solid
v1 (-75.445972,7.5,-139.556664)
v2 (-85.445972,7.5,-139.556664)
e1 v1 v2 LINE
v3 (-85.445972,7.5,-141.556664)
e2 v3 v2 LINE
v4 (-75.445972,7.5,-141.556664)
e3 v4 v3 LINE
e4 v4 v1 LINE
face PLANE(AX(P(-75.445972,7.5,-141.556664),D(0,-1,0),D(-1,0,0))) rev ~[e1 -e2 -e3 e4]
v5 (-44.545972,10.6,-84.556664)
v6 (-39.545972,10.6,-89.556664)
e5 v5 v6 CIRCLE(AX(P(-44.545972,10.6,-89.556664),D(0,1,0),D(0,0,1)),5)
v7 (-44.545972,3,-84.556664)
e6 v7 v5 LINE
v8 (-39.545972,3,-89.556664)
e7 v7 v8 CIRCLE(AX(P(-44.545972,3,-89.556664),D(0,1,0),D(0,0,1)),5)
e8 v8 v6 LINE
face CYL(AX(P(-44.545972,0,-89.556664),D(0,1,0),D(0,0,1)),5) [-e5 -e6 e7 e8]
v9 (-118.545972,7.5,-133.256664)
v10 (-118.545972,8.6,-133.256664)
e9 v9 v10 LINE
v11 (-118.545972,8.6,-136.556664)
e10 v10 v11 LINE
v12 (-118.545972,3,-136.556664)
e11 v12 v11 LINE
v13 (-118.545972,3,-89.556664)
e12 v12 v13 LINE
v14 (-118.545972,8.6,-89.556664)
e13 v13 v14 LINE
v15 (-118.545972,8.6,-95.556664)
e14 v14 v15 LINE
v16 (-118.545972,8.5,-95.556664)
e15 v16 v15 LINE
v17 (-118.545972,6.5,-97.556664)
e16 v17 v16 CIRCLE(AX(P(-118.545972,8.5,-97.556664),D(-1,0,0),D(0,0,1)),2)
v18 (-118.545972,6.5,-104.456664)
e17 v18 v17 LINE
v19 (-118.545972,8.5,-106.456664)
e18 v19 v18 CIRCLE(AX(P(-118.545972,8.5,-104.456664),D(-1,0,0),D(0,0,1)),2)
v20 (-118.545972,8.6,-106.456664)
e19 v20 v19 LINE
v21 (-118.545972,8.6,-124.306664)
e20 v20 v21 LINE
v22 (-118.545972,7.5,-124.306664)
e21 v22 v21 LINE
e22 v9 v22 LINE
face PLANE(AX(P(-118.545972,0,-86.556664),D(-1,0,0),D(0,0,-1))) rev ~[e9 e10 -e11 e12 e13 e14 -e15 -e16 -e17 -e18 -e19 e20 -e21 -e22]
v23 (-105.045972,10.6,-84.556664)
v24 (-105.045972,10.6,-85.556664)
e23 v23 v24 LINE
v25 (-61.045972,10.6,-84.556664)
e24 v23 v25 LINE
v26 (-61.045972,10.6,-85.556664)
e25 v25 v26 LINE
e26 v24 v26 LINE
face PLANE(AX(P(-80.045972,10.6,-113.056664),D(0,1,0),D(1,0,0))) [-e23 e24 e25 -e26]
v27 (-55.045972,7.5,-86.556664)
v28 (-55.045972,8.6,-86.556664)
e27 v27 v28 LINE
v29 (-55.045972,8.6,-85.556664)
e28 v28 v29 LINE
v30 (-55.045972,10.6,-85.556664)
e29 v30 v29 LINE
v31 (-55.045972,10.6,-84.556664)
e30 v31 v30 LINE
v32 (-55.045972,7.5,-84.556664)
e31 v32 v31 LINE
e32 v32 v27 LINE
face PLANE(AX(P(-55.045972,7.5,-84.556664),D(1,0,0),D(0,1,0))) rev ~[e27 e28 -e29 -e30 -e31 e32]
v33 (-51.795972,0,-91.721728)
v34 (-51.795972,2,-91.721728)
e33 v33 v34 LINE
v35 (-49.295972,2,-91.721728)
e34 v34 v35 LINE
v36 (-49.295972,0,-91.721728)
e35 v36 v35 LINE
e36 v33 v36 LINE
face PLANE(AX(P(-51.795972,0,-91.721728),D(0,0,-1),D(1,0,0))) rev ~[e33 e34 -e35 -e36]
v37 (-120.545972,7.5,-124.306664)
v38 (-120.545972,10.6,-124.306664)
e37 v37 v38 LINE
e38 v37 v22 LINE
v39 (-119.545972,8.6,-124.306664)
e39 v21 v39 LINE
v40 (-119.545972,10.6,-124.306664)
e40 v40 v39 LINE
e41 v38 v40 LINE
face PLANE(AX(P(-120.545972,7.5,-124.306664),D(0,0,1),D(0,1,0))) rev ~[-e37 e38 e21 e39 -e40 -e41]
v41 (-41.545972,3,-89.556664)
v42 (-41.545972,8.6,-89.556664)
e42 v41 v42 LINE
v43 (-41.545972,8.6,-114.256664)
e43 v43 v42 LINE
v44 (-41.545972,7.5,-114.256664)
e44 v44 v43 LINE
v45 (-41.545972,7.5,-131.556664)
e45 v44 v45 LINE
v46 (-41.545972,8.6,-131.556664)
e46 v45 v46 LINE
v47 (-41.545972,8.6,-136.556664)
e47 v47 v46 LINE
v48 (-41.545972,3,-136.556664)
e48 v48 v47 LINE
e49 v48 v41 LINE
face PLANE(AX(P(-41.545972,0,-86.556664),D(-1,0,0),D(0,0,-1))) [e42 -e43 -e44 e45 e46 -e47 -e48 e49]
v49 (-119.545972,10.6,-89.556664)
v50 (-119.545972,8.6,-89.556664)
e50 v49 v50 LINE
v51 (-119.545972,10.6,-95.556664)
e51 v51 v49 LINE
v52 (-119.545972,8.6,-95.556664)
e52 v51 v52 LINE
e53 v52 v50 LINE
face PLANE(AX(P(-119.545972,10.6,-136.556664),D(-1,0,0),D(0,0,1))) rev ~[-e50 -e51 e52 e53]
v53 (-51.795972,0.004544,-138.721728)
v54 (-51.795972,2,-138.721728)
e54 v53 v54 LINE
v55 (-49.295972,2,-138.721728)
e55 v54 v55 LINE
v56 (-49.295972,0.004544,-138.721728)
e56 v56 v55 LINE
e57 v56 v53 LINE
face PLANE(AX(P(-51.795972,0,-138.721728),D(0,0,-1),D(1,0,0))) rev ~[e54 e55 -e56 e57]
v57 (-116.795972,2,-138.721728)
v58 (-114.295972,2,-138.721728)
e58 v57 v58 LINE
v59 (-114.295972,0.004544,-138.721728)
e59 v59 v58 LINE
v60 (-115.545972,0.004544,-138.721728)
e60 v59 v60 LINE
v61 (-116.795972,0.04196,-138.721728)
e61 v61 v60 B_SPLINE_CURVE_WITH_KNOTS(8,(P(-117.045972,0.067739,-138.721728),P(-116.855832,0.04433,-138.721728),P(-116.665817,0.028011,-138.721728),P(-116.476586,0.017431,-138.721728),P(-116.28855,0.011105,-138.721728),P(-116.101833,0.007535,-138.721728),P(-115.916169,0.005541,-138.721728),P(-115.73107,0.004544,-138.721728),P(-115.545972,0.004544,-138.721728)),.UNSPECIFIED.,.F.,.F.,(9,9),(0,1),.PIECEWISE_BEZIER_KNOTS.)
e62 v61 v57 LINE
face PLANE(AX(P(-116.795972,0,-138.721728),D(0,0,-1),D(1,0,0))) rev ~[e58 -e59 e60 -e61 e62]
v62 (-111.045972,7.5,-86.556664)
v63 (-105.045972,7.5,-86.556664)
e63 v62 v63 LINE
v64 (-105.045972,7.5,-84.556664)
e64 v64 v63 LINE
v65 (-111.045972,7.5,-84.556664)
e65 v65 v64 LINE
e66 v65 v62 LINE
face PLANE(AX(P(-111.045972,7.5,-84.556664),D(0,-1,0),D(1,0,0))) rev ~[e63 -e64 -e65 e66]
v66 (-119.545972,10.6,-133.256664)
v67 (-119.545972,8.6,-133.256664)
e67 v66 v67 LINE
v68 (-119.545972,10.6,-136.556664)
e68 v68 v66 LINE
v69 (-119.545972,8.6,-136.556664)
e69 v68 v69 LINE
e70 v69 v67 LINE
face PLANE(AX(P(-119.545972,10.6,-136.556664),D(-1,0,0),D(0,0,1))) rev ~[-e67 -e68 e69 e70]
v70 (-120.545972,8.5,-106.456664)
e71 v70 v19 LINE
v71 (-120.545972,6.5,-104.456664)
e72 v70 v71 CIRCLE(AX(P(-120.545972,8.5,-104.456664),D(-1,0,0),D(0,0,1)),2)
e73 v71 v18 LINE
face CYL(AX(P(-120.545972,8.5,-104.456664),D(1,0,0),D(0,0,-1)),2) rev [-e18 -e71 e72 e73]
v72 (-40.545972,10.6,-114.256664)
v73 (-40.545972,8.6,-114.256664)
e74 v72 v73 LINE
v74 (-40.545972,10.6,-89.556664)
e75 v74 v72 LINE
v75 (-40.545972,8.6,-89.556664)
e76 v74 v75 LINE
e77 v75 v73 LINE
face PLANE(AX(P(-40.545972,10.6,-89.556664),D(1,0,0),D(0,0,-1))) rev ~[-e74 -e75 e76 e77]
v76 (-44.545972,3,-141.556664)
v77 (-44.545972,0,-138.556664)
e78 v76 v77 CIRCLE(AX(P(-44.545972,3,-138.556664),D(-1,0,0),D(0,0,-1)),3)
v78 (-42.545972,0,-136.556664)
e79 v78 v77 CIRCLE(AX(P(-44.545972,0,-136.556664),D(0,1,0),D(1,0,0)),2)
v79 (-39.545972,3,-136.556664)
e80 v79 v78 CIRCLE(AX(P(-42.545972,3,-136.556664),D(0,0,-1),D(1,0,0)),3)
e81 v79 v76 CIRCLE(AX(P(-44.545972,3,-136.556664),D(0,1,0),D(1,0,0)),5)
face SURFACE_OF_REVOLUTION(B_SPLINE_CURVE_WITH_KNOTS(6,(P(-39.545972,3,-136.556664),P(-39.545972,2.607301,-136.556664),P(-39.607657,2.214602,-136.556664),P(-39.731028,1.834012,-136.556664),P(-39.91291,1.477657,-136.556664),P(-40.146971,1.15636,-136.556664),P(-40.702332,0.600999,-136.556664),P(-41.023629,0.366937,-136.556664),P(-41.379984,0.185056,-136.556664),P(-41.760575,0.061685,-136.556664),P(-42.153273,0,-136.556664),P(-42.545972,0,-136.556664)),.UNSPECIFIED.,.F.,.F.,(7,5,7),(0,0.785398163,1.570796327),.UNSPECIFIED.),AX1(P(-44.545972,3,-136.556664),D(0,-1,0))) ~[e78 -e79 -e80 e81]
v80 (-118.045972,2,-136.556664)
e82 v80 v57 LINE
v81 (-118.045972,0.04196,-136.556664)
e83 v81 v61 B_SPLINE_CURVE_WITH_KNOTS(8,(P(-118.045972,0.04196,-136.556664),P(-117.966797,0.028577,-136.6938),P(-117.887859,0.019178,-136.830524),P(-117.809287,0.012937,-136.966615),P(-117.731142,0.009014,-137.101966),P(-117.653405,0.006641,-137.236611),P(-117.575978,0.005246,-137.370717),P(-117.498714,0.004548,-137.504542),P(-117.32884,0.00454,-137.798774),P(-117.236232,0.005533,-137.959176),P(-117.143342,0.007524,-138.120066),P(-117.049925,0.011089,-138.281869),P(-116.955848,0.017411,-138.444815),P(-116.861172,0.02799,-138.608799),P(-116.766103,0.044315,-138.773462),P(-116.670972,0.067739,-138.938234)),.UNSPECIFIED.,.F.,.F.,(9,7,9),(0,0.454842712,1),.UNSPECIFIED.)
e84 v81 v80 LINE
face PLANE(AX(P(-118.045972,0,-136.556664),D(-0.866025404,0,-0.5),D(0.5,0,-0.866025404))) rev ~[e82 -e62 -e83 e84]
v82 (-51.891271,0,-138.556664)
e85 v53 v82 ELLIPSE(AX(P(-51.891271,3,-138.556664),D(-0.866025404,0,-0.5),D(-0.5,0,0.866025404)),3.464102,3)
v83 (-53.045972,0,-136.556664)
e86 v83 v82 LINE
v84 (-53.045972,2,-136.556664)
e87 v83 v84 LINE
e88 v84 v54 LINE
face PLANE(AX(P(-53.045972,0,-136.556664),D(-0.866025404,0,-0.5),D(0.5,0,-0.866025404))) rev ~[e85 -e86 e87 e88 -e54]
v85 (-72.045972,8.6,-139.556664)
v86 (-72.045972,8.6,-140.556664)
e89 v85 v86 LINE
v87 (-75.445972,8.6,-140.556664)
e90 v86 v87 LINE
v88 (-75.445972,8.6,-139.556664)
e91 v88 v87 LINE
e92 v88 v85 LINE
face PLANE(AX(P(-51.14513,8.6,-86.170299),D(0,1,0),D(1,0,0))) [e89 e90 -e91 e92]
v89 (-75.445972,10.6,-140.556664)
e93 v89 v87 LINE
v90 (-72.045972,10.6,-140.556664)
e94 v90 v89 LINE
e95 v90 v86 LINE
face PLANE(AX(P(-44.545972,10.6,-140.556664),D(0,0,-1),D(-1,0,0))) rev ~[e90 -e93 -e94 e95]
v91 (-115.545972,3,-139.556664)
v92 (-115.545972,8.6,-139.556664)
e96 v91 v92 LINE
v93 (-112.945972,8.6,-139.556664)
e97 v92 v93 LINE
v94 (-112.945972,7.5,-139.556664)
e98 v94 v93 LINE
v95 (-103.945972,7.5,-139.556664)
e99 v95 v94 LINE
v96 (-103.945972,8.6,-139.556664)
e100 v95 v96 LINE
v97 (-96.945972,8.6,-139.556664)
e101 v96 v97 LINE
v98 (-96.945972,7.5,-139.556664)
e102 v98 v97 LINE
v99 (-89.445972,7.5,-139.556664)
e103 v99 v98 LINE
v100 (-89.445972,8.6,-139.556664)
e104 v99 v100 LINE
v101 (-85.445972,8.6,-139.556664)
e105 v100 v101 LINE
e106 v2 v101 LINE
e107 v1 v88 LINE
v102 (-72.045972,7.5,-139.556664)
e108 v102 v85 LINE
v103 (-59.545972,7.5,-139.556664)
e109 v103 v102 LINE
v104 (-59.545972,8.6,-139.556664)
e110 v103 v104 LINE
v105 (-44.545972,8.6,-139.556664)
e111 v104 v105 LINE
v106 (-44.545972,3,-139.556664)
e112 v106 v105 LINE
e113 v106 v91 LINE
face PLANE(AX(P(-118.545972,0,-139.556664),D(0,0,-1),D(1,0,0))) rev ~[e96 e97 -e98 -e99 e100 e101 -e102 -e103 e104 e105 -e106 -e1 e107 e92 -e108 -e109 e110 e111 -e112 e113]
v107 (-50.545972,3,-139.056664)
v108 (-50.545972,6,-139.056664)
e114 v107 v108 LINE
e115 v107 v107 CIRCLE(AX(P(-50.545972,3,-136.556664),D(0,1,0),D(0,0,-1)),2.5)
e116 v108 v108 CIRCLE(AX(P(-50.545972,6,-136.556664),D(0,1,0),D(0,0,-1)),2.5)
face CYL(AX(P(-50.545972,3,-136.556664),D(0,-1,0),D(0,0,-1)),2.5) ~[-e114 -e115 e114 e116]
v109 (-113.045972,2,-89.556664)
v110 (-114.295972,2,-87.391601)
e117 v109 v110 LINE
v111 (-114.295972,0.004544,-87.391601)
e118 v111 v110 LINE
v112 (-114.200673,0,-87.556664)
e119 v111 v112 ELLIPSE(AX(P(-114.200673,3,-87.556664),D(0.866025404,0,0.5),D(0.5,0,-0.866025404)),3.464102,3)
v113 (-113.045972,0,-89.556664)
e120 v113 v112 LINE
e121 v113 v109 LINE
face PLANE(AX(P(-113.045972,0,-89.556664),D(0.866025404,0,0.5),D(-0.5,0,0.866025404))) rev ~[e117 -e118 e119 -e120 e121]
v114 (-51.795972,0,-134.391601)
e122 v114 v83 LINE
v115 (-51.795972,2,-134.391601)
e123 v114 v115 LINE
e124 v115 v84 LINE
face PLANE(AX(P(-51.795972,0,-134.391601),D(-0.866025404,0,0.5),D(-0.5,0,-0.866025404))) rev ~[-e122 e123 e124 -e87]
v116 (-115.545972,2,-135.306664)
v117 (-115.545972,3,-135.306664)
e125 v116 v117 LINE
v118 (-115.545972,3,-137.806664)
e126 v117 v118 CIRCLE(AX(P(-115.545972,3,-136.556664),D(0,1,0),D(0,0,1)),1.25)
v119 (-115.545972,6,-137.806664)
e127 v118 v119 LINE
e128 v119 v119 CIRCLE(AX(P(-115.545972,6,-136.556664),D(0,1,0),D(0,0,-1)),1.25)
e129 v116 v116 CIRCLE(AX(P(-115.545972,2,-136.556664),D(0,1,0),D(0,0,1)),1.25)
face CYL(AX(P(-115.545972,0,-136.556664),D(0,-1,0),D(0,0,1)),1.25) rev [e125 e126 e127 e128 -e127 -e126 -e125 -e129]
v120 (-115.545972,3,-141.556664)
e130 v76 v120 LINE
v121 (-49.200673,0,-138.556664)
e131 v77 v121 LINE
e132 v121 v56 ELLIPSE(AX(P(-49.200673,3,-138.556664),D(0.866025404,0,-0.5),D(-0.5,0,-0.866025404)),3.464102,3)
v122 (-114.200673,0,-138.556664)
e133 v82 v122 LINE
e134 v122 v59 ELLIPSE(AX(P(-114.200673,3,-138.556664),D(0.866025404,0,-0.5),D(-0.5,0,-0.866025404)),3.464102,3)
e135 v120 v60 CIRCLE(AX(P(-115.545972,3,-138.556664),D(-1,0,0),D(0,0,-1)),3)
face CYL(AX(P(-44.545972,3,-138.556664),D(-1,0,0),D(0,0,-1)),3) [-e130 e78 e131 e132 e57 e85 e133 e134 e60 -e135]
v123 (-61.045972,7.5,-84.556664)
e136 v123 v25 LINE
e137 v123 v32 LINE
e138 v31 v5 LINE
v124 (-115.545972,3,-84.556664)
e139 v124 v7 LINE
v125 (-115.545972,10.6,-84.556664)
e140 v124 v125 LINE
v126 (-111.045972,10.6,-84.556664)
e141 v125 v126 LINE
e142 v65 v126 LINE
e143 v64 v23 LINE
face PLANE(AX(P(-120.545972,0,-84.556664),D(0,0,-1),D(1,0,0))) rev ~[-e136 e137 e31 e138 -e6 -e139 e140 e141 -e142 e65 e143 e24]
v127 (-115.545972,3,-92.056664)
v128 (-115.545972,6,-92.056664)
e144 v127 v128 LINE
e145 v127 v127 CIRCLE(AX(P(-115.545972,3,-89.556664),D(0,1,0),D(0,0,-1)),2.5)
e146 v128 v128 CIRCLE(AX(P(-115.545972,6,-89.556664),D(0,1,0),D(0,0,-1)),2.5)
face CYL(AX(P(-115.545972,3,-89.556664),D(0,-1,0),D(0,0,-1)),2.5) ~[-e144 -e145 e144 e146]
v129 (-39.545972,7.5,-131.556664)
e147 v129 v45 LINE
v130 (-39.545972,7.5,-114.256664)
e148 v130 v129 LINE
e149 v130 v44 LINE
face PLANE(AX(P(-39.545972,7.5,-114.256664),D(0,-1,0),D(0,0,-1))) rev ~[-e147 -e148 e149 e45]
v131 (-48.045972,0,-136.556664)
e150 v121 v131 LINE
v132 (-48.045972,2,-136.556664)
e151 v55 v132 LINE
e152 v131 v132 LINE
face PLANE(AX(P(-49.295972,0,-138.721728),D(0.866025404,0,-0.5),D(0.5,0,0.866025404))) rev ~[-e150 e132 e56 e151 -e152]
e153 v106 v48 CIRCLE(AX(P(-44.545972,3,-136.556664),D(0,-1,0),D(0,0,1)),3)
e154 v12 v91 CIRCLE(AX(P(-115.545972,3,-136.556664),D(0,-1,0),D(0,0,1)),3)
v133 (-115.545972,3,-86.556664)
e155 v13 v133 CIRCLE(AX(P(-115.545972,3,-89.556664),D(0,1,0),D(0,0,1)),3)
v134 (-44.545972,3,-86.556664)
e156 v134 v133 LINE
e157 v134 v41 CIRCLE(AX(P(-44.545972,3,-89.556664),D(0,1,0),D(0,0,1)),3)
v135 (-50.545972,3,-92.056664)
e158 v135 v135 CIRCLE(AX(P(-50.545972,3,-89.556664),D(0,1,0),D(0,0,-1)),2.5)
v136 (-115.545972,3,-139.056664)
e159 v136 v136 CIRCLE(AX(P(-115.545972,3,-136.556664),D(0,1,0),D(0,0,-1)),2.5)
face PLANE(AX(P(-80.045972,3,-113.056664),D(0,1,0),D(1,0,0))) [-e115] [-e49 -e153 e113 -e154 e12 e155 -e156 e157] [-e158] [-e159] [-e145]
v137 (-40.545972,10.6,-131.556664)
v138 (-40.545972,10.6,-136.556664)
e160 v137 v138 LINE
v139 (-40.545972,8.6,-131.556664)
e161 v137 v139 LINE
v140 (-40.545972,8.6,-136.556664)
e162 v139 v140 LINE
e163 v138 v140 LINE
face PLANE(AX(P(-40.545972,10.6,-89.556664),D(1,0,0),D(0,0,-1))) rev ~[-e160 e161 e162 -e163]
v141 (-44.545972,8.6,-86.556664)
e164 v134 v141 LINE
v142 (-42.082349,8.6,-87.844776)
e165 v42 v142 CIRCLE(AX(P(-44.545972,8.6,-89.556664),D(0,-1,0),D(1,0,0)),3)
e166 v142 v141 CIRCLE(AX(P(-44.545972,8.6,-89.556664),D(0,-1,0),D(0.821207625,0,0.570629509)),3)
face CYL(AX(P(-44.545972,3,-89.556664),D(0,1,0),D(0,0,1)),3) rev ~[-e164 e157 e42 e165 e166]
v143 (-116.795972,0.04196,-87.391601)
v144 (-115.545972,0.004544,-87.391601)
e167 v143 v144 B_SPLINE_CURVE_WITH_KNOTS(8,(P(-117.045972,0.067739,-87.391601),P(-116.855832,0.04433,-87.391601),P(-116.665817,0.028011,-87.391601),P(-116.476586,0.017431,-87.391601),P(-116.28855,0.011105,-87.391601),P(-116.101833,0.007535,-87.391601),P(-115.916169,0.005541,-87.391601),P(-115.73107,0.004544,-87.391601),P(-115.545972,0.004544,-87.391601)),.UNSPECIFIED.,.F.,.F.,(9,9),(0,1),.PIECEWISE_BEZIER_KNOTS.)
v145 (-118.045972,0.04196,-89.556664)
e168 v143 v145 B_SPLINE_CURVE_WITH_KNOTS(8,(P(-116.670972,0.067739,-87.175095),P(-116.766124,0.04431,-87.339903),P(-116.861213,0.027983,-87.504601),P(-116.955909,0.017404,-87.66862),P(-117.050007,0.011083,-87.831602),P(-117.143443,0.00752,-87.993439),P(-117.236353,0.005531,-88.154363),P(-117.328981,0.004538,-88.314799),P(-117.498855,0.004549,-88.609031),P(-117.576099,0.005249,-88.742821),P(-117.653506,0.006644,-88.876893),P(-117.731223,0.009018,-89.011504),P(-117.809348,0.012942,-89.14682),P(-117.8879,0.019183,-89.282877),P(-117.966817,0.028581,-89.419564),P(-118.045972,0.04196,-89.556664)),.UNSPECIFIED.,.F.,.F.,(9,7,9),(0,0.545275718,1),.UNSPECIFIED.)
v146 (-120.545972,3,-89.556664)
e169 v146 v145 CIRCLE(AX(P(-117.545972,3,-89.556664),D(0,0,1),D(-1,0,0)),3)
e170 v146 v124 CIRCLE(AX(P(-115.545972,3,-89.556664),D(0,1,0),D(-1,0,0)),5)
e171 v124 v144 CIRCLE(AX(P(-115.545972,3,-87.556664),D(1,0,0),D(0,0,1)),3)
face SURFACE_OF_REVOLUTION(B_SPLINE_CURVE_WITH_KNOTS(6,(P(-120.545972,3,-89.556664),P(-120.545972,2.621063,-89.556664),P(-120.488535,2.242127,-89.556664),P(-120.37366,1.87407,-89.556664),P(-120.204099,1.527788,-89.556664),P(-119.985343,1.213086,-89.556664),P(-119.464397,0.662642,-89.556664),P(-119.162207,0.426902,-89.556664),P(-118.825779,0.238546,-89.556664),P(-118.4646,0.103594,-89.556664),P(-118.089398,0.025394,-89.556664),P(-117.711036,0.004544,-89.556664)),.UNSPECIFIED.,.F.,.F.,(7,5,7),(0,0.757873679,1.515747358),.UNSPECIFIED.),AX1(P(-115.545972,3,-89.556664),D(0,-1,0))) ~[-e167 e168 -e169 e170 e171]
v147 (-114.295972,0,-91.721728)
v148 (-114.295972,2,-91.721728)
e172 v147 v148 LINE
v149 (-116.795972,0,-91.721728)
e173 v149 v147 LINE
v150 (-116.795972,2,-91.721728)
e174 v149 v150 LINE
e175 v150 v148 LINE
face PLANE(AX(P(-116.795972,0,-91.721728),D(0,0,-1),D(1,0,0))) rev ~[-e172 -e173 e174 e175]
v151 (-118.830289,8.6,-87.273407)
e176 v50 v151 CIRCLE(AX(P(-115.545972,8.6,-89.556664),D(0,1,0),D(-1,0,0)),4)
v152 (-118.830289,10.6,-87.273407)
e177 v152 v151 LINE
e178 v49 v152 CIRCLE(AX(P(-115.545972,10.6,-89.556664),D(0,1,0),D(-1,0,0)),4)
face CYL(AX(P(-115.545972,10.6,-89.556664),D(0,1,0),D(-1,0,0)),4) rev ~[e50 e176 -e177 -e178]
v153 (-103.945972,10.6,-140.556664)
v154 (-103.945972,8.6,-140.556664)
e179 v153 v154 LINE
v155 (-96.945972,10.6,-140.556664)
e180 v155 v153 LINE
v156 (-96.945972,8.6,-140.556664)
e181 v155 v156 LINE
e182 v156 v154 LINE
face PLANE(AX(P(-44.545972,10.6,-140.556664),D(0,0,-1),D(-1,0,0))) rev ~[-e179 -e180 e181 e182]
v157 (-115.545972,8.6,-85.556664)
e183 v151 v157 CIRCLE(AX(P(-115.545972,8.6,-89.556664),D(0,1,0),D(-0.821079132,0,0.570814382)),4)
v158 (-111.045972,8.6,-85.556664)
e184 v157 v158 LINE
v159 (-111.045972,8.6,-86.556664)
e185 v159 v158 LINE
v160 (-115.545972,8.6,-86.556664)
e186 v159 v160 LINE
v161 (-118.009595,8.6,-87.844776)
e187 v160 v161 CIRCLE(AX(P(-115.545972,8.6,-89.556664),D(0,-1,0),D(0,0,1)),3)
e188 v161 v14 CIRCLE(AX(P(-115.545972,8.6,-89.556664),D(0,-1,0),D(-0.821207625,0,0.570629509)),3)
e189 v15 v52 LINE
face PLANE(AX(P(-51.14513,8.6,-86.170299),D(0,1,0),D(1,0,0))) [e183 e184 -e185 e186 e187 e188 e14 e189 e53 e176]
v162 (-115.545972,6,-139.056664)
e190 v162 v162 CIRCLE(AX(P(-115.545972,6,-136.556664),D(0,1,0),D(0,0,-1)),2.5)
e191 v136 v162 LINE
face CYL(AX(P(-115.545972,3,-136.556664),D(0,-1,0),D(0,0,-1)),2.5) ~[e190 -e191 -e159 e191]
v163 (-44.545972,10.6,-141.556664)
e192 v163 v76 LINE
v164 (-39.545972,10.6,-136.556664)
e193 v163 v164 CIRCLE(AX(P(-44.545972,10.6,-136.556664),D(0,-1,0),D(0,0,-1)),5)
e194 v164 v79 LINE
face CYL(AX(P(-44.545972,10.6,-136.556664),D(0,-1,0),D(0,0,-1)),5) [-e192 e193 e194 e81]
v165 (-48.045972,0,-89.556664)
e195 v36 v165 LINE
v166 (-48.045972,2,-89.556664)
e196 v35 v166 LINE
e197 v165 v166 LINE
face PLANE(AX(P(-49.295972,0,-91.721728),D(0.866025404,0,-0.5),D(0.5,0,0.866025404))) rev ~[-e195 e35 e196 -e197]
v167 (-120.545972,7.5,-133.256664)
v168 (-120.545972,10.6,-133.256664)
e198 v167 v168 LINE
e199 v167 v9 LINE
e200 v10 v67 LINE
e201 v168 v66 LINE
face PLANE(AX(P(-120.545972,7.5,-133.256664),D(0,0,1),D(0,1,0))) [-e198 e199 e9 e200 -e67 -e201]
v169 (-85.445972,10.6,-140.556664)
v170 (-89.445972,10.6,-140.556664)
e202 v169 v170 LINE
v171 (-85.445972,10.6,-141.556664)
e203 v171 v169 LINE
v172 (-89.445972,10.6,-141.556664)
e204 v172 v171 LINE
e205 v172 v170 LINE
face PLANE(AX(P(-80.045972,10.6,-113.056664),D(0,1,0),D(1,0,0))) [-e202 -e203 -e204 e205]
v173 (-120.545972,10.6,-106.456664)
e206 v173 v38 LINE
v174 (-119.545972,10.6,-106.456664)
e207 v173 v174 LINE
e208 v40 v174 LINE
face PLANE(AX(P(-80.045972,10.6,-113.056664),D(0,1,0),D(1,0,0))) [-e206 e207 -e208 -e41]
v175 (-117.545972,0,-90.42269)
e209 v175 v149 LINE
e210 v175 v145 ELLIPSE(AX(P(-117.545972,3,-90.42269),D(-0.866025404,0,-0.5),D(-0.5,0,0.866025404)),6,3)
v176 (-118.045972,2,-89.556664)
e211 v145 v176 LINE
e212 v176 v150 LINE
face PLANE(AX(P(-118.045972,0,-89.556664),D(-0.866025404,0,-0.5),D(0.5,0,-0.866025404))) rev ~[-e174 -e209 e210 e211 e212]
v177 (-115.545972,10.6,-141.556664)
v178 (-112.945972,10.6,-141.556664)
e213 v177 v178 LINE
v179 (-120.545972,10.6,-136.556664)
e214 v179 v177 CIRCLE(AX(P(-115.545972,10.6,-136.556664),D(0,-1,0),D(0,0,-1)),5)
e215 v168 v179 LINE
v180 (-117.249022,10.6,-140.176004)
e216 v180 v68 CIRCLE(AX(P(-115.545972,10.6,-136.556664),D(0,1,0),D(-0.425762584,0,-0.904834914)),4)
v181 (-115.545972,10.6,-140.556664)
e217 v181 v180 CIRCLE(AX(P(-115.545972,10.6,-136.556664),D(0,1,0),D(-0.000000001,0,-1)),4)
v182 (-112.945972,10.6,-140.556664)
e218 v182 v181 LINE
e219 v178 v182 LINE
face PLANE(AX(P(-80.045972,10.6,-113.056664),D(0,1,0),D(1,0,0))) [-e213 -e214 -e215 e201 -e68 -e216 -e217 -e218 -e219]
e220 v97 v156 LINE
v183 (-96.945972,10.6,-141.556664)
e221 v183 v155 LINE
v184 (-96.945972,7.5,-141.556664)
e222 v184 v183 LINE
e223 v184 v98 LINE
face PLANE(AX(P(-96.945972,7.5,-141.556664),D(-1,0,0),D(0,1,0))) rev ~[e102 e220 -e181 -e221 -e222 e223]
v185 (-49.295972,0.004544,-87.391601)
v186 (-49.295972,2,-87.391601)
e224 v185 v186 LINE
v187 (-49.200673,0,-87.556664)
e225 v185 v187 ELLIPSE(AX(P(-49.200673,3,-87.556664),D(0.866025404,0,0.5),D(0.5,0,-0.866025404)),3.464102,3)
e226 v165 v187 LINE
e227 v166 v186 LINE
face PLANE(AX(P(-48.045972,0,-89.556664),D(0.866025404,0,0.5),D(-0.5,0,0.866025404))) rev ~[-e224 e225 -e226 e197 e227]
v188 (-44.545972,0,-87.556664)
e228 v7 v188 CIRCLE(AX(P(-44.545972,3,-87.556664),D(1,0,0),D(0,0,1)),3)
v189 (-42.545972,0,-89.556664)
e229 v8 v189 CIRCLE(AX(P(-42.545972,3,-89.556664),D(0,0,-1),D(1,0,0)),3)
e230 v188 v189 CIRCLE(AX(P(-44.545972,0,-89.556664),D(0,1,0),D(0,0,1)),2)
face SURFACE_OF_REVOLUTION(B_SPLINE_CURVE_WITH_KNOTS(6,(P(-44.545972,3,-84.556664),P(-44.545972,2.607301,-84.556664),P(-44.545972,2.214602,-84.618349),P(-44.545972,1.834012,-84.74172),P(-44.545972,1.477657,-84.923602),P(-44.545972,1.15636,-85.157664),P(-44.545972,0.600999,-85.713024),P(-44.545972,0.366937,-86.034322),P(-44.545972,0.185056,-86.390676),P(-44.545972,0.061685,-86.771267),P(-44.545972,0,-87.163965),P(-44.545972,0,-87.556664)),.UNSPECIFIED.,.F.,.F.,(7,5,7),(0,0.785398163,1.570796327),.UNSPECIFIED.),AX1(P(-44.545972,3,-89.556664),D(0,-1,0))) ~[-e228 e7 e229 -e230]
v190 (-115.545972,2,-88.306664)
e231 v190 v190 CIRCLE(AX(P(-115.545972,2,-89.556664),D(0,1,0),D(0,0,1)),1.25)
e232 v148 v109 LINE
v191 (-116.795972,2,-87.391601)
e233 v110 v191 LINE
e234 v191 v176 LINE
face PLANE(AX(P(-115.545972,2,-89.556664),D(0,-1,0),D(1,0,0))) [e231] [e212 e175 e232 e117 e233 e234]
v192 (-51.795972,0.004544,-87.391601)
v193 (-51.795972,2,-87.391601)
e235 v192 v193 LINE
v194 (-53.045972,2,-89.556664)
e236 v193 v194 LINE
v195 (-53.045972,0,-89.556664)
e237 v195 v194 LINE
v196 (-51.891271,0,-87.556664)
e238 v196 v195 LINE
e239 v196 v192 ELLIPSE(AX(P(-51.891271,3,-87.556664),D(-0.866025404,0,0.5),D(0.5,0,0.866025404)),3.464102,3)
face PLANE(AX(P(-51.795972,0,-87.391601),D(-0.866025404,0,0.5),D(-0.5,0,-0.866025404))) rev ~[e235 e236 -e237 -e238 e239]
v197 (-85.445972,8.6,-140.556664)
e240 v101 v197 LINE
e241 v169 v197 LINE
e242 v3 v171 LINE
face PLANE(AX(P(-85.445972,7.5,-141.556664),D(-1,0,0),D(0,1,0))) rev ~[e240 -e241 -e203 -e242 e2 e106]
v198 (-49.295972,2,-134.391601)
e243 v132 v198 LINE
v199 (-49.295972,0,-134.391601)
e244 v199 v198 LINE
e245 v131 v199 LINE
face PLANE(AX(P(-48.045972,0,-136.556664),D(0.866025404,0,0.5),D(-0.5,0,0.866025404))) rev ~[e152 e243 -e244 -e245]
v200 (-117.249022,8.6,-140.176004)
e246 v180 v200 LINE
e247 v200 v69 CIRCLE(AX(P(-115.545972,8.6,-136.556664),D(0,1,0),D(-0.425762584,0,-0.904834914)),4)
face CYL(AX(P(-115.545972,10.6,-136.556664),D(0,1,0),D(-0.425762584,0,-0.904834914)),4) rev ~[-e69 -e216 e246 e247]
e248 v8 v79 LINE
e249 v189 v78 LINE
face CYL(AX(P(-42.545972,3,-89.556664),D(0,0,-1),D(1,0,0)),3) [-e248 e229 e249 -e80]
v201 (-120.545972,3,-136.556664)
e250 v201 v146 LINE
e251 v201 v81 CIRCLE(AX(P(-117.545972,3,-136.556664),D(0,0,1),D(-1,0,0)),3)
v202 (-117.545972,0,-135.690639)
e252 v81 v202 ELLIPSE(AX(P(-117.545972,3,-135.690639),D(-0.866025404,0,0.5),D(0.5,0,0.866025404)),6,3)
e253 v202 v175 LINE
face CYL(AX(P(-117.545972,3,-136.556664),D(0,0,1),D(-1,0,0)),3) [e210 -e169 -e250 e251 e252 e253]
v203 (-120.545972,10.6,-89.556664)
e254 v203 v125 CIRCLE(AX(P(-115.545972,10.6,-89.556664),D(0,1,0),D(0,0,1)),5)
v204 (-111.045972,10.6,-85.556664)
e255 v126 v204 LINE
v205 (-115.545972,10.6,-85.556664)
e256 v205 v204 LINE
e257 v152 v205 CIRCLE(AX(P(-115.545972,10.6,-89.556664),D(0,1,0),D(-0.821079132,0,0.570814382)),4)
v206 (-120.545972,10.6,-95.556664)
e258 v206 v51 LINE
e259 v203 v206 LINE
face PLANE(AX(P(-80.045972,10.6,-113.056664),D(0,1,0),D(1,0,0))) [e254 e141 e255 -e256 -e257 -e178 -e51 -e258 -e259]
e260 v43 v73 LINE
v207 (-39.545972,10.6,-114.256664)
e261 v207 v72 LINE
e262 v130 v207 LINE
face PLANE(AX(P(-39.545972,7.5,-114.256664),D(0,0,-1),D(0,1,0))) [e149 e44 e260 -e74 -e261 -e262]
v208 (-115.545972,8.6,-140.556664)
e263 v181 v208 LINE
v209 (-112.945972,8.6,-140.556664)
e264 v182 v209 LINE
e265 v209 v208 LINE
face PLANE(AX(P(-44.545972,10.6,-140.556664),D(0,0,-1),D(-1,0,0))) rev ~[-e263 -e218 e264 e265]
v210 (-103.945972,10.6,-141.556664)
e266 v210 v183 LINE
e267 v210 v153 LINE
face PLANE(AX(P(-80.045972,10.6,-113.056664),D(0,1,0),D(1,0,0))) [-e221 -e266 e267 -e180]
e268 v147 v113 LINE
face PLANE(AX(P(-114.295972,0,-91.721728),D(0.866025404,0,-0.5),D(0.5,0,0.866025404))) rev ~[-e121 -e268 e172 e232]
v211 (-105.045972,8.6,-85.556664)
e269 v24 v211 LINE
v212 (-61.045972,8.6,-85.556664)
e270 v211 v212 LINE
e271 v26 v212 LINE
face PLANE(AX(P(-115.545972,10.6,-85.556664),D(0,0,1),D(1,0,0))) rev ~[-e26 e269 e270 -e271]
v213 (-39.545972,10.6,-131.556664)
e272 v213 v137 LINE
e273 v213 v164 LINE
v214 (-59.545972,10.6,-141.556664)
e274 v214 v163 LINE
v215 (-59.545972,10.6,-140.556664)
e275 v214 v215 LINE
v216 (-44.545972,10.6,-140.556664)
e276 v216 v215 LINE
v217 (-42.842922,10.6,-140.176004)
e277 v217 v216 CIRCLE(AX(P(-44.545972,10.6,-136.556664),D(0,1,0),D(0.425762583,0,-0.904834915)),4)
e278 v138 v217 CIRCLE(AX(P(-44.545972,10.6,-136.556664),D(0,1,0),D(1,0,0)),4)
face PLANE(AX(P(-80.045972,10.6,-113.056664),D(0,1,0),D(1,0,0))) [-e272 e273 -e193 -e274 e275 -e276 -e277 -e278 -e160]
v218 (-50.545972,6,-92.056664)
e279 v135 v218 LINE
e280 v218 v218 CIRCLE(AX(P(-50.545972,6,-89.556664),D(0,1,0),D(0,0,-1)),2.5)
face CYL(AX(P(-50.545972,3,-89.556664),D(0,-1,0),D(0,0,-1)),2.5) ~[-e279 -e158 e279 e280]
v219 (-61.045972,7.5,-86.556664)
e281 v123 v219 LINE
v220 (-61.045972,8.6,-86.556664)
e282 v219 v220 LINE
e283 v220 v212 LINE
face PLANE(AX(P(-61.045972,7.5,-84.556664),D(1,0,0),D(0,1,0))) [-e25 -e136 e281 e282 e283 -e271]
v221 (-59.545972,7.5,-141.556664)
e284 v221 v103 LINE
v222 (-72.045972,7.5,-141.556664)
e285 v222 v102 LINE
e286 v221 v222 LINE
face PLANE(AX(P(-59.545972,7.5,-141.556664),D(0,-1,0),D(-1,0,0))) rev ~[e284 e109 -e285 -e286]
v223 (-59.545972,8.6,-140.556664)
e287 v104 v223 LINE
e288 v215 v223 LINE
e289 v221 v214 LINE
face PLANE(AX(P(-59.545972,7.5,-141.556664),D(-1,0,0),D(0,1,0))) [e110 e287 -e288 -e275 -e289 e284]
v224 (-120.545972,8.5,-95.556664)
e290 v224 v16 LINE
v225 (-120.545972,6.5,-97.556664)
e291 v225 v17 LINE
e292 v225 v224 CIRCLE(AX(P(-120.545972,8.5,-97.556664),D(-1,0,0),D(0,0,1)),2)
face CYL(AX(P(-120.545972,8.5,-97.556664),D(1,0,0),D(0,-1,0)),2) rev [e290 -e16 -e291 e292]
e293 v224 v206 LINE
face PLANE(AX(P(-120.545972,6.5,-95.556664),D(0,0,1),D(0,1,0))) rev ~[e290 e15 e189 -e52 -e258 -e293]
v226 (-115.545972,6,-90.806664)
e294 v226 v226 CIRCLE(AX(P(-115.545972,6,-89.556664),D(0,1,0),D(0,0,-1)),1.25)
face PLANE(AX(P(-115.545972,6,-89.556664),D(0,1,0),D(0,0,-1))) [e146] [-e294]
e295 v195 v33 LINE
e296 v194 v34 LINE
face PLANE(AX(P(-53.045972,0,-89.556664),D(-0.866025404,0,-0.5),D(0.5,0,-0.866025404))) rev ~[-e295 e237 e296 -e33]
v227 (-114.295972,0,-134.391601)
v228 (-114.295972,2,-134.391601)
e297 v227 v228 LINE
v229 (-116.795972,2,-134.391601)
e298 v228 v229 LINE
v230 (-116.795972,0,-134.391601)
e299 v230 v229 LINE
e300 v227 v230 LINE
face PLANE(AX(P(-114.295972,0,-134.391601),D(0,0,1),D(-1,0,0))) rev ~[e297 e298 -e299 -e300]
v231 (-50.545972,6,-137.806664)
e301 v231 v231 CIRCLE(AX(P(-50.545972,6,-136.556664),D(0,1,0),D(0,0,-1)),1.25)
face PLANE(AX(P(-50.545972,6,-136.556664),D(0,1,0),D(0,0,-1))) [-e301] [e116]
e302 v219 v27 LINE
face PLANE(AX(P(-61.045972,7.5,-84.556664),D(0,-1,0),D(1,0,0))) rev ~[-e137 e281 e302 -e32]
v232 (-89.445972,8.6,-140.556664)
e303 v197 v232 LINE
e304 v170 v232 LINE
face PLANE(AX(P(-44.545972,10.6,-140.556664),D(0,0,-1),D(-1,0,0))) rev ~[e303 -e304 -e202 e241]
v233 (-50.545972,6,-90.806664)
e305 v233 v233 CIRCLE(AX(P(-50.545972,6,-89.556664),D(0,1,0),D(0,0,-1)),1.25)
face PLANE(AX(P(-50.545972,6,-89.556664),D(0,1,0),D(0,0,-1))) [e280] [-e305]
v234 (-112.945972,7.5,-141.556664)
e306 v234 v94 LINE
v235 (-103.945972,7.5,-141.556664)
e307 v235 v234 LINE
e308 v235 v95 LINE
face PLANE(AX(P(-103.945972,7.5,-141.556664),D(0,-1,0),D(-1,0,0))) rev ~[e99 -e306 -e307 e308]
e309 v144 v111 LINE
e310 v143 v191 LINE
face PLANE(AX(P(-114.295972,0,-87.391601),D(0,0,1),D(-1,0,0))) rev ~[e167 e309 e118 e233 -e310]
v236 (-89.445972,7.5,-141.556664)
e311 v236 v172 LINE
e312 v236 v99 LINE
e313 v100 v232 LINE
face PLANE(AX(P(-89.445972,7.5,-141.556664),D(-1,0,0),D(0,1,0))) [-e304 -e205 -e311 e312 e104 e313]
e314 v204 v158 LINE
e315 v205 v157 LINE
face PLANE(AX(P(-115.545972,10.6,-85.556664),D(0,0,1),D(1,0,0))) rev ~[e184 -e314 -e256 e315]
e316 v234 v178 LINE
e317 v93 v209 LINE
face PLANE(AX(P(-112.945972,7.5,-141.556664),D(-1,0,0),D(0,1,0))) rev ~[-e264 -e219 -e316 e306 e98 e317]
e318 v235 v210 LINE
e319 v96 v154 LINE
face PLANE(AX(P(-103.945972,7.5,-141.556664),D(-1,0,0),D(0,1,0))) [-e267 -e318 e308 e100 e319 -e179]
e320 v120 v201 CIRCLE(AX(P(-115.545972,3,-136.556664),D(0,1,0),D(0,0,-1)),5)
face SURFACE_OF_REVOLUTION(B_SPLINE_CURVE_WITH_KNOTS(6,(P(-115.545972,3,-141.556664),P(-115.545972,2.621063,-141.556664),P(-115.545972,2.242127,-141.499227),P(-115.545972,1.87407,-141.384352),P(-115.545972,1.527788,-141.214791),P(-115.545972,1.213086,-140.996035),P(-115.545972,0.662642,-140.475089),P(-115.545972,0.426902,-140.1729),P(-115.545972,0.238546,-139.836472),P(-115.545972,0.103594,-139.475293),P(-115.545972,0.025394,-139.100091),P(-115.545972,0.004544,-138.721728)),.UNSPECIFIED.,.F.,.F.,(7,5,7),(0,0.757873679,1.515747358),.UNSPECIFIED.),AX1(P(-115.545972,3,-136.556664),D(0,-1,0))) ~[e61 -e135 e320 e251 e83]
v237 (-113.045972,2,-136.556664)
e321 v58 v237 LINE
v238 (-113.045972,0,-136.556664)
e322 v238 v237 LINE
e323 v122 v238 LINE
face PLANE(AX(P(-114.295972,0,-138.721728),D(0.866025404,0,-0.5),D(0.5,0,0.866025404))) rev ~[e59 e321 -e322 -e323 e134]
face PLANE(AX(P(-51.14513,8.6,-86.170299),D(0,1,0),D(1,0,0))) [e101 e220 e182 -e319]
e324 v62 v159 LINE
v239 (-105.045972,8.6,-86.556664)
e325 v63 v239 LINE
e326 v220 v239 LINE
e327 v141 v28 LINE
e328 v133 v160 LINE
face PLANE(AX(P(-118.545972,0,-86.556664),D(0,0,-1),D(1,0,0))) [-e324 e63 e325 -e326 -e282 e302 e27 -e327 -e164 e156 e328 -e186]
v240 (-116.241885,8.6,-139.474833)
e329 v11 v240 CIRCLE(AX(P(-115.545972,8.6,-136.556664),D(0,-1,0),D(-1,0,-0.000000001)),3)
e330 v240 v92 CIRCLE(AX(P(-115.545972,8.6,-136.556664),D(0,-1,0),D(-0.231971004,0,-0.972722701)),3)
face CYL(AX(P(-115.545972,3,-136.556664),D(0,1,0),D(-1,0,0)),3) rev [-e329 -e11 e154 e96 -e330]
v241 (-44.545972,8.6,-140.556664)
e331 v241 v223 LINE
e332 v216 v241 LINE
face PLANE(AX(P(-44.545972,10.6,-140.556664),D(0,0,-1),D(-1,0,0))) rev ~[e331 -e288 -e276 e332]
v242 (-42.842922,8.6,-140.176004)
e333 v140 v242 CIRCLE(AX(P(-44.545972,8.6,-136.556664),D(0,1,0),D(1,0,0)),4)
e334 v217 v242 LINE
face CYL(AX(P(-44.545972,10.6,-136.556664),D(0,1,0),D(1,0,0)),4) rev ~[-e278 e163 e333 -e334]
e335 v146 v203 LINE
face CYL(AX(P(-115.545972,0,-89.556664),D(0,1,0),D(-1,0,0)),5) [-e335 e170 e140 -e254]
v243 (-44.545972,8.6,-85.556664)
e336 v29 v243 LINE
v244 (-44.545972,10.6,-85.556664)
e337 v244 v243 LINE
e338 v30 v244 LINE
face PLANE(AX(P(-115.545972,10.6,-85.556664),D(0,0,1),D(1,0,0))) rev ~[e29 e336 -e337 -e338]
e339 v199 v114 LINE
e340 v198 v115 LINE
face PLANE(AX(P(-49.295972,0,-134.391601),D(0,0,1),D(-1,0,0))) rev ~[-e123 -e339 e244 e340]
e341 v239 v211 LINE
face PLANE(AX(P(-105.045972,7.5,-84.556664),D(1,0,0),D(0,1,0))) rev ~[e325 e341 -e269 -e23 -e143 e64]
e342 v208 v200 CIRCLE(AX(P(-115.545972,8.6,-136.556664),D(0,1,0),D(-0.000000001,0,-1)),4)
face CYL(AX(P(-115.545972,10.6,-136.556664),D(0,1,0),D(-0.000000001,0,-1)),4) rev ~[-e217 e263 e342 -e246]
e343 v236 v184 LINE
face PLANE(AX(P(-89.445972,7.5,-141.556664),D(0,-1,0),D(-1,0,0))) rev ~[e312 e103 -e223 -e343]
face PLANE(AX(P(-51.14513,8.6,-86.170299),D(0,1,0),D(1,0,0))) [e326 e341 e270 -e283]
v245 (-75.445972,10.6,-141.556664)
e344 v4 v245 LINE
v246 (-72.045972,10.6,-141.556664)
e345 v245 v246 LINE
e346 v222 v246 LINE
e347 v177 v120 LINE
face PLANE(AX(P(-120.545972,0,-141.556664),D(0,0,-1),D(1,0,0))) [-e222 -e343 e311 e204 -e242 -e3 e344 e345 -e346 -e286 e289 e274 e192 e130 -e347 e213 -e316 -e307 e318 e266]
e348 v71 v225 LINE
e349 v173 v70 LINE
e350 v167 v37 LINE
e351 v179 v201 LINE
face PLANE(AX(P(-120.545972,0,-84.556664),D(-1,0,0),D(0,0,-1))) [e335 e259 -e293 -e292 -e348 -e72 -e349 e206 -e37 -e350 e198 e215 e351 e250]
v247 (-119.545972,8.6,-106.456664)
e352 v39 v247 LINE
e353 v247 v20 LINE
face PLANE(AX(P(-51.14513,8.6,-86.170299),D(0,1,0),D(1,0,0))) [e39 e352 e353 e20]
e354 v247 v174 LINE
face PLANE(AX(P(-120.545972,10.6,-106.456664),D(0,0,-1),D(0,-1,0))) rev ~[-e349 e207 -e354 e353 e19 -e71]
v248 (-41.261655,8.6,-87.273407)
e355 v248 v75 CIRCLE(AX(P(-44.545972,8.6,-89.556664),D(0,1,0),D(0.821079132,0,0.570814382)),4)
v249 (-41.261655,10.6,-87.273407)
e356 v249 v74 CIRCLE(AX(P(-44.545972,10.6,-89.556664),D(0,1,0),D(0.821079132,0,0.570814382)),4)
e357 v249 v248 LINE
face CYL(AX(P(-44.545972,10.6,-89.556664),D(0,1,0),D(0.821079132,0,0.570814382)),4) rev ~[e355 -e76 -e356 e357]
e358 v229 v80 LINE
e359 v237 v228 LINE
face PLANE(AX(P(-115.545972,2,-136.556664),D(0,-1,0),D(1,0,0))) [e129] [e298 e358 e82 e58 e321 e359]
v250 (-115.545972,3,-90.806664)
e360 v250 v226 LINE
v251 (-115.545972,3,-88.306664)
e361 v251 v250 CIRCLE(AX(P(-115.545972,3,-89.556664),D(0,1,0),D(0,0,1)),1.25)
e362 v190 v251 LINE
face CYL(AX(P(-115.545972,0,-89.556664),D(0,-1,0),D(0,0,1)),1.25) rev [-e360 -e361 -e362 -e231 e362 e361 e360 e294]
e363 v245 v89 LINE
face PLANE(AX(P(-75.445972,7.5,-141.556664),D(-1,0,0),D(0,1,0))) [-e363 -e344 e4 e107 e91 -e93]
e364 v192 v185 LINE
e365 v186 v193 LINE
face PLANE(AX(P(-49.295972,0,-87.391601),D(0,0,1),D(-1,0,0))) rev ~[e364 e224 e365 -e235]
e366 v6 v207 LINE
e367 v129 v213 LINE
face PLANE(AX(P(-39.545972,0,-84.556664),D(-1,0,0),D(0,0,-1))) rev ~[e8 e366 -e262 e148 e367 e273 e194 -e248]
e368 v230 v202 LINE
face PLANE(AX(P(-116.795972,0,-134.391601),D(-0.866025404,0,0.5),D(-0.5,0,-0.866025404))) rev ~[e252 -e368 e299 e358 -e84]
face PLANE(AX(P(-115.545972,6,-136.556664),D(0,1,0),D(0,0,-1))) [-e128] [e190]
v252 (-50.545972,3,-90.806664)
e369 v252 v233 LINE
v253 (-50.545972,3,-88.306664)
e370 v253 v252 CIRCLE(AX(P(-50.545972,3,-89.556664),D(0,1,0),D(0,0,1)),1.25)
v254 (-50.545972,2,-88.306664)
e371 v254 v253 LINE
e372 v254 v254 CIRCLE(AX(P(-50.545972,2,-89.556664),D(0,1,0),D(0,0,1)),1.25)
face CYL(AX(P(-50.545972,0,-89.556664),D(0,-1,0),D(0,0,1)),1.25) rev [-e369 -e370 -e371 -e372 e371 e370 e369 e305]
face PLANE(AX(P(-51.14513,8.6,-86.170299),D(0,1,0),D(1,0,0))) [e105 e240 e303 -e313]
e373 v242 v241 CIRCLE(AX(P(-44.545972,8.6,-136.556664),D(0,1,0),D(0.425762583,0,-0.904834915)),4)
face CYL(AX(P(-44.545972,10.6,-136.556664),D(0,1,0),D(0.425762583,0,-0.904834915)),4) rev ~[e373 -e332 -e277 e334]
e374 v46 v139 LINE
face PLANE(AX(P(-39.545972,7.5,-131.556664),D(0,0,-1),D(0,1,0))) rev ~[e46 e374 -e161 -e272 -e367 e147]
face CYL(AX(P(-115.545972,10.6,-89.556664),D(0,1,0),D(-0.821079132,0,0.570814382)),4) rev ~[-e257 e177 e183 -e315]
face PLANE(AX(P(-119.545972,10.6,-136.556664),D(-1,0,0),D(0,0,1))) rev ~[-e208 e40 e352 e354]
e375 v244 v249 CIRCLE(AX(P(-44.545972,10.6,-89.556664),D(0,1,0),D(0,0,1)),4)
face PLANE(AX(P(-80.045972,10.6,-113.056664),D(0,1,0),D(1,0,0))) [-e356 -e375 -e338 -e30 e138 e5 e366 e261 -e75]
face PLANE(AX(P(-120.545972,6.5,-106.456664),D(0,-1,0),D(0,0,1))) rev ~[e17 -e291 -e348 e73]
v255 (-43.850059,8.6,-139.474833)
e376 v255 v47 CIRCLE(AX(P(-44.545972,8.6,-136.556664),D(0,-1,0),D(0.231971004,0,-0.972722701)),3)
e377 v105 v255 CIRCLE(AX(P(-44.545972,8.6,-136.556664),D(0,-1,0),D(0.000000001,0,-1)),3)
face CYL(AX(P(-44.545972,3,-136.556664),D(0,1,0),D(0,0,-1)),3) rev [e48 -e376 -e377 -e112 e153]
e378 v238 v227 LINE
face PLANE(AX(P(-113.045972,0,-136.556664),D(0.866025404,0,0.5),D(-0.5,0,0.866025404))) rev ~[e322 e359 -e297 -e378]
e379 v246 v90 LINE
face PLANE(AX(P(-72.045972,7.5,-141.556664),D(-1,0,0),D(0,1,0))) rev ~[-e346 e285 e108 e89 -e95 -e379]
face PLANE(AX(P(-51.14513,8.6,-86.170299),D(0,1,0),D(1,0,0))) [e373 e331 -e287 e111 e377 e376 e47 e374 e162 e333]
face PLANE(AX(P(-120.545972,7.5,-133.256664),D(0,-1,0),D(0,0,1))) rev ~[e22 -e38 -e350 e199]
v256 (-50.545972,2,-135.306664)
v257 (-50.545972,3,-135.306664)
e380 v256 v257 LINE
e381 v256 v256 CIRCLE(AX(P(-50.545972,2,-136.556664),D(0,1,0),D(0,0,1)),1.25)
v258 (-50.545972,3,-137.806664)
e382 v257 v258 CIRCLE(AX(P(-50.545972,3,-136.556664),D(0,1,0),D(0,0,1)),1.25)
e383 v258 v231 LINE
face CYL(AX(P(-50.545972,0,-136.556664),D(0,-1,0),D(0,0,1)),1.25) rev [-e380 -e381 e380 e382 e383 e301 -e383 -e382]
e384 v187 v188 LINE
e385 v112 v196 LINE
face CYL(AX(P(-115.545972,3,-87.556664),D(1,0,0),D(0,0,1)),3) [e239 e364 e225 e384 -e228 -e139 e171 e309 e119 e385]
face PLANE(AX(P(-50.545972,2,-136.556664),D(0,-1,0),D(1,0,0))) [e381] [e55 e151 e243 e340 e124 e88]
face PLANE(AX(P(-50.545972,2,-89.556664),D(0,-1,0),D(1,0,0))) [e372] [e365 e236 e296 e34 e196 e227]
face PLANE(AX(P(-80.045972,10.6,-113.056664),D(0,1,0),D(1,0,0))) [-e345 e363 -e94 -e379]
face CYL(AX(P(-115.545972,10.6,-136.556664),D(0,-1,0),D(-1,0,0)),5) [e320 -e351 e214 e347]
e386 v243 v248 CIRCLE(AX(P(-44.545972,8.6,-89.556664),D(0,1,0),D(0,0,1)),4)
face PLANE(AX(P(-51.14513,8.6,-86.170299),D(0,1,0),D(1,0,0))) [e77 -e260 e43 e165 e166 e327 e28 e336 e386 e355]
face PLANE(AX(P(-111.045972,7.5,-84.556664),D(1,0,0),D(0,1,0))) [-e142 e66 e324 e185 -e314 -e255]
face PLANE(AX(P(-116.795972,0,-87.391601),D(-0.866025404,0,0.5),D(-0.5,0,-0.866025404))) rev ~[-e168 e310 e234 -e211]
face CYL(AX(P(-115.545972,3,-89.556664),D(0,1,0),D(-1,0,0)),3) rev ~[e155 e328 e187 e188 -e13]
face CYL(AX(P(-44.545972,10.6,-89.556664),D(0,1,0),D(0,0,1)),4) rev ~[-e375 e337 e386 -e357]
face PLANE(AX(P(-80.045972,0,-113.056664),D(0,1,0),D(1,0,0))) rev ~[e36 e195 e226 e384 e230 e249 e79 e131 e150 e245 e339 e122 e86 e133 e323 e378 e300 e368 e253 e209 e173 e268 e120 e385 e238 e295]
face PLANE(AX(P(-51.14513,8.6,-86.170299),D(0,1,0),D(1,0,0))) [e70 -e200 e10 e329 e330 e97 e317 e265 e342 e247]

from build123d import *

# Parameters (mm, degrees)
SKETCH_4_W          = 81
SKETCH_4_H          = 57
SKETCH_4_R          = 1.25
EXTRUDE_5_DEPTH     = 3
EXTRUDE_START       = 3
SKETCH_4_4_R        = 2.5
SKETCH_4_4_R_2      = 1.25
EXTRUDE_6_DEPTH     = 3
SKETCH_4_5_W        = 81
SKETCH_4_5_H        = 57
SKETCH_4_5_W_2      = 77
SKETCH_4_5_H_2      = 53
EXTRUDE_7_DEPTH     = 10.6
SKETCH_6_W          = 12.5
SKETCH_6_H          = 3.1
SKETCH_6_W_2        = 10
SKETCH_6_W_3        = 7.5
SKETCH_6_W_4        = 9
CUT_EXTRUDE_1_DEPTH = 2
SKETCH_7_W          = 8.95
SKETCH_7_H          = 3.1
SKETCH_7_W_2        = 8.9
CUT_EXTRUDE_2_DEPTH = 2
FILLET_1_R          = 2
SKETCH_8_W          = 6
SKETCH_8_H          = 3.1
CUT_EXTRUDE_3_DEPTH = 2
SKETCH_9_W          = 17.3
SKETCH_9_H          = 3.1
CUT_EXTRUDE_4_DEPTH = 2
FILLET_2_R          = 3
FILLET_3_R          = 5
FILLET_4_R          = 3
CUT_EXTRUDE_5_DEPTH = 2
SKETCH_11_W         = 44
SKETCH_11_H         = 1
CUT_EXTRUDE_6_DEPTH = 2


with BuildPart() as part:
    # 草图4 → 凸台-拉伸5 (new body)
    with BuildSketch(Plane(origin=(0, 0, 0), x_dir=(1, 0, 0), z_dir=(0, 1, 0))):
        with Locations((-80.045972017, 113.056664423)):
            Rectangle(SKETCH_4_W, SKETCH_4_H)
        with Locations(Location((-115.545972017, 136.556664423, 0), (0, 0, 270))):
            Circle(SKETCH_4_R, mode=Mode.SUBTRACT)
        with Locations(Location((-50.545972017, 136.556664423, 0), (0, 0, 270))):
            Circle(SKETCH_4_R, mode=Mode.SUBTRACT)
        with Locations(Location((-50.545972017, 89.556664423, 0), (0, 0, 270))):
            Circle(SKETCH_4_R, mode=Mode.SUBTRACT)
        with Locations(Location((-115.545972017, 89.556664423, 0), (0, 0, 270))):
            Circle(SKETCH_4_R, mode=Mode.SUBTRACT)
    extrude(amount=EXTRUDE_5_DEPTH)

    # 草图4<4> → 凸台-拉伸6 (add)
    # profile 1 of 4: a face of its own
    with BuildSketch(Plane(origin=(0, 0, 0), x_dir=(1, 0, 0), z_dir=(0, 1, 0)).offset(EXTRUDE_START)):
        with Locations(Location((-50.545972017, 89.556664423, 0), (0, 0, 90))):
            Circle(SKETCH_4_4_R)
        with Locations(Location((-50.545972017, 89.556664423, 0), (0, 0, 90))):
            Circle(SKETCH_4_4_R_2, mode=Mode.SUBTRACT)
    # profile 2 of 4: a face of its own
    with BuildSketch(Plane(origin=(0, 0, 0), x_dir=(1, 0, 0), z_dir=(0, 1, 0)).offset(EXTRUDE_START)):
        with Locations(Location((-115.545972017, 89.556664423, 0), (0, 0, 90))):
            Circle(SKETCH_4_4_R)
        with Locations(Location((-115.545972017, 89.556664423, 0), (0, 0, 90))):
            Circle(SKETCH_4_4_R_2, mode=Mode.SUBTRACT)
    # profile 3 of 4: a face of its own
    with BuildSketch(Plane(origin=(0, 0, 0), x_dir=(1, 0, 0), z_dir=(0, 1, 0)).offset(EXTRUDE_START)):
        with Locations(Location((-50.545972017, 136.556664423, 0), (0, 0, 90))):
            Circle(SKETCH_4_4_R)
        with Locations(Location((-50.545972017, 136.556664423, 0), (0, 0, 90))):
            Circle(SKETCH_4_4_R_2, mode=Mode.SUBTRACT)
    # profile 4 of 4: a face of its own
    with BuildSketch(Plane(origin=(0, 0, 0), x_dir=(1, 0, 0), z_dir=(0, 1, 0)).offset(EXTRUDE_START)):
        with Locations(Location((-115.545972017, 136.556664423, 0), (0, 0, 90))):
            Circle(SKETCH_4_4_R)
        with Locations(Location((-115.545972017, 136.556664423, 0), (0, 0, 90))):
            Circle(SKETCH_4_4_R_2, mode=Mode.SUBTRACT)
    extrude(amount=EXTRUDE_6_DEPTH)

    # 草图4<5> → 凸台-拉伸7 (add)
    with BuildSketch(Plane(origin=(0, 0, 0), x_dir=(1, 0, 0), z_dir=(0, 1, 0))):
        with Locations((-80.045972017, 113.056664423)):
            Rectangle(SKETCH_4_5_W, SKETCH_4_5_H)
        with Locations((-80.045972017, 113.056664423)):
            Rectangle(SKETCH_4_5_W_2, SKETCH_4_5_H_2, mode=Mode.SUBTRACT)
    extrude(amount=EXTRUDE_7_DEPTH)

    # 草图6 → 切除-拉伸1 (cut)
    with BuildSketch(Plane(origin=(0, 0, -141.556664423), x_dir=(-1, 0, 0), z_dir=(0, 0, -1))):
        with Locations((65.795972017, 9.05)):
            Rectangle(SKETCH_6_W, SKETCH_6_H)
        with Locations((80.445972017, 9.05)):
            Rectangle(SKETCH_6_W_2, SKETCH_6_H)
        with Locations((93.195972017, 9.05)):
            Rectangle(SKETCH_6_W_3, SKETCH_6_H)
        with Locations((108.445972017, 9.05)):
            Rectangle(SKETCH_6_W_4, SKETCH_6_H)
    extrude(amount=-CUT_EXTRUDE_1_DEPTH, mode=Mode.SUBTRACT)

    # 草图7 → 切除-拉伸2 (cut)
    with BuildSketch(Plane.ZY.offset(120.545972017)):
        with Locations((-128.781664423, 9.05)):
            Rectangle(SKETCH_7_W, SKETCH_7_H)
        with Locations((-101.006664423, 9.05)):
            Rectangle(SKETCH_7_W_2, SKETCH_7_H)
        Polygon((-105.456664423, 10.6), (-106.456664423, 10.6), (-106.456664423, 6.5), (-95.556664423, 6.5), (-95.556664423, 10.6), (-96.556664423, 10.6), (-96.556664423, 7.5), (-105.456664423, 7.5), align=None)
    extrude(amount=-CUT_EXTRUDE_2_DEPTH, mode=Mode.SUBTRACT)

    # 圆角1
    fillet_1_edges = [part.edges().sort_by_distance(p)[0] for p in [
        (-119.545972017, 6.5, -95.556664423),
        (-119.545972017, 6.5, -106.456664423),
    ]]
    fillet(fillet_1_edges, radius=FILLET_1_R)

    # 草图8 → 切除-拉伸3 (cut)
    with BuildSketch(Plane.XY.offset(-84.556664423)):
        with Locations((-108.045972017, 9.05)):
            Rectangle(SKETCH_8_W, SKETCH_8_H)
        with Locations((-58.045972017, 9.05)):
            Rectangle(SKETCH_8_W, SKETCH_8_H)
    extrude(amount=-CUT_EXTRUDE_3_DEPTH, mode=Mode.SUBTRACT)

    # 草图9 → 切除-拉伸4 (cut)
    with BuildSketch(Plane(origin=(-39.545972017, 0, 0), x_dir=(0, 0, -1), z_dir=(1, 0, 0))):
        with Locations((122.906664423, 9.05)):
            Rectangle(SKETCH_9_W, SKETCH_9_H)
    extrude(amount=-CUT_EXTRUDE_4_DEPTH, mode=Mode.SUBTRACT)

    # 圆角2
    fillet_2_edges = [part.edges().sort_by_distance(p)[0] for p in [
        (-118.545972017, 6.8, -139.556664423),
        (-41.545972017, 6.8, -139.556664423),
        (-41.545972017, 6.8, -86.556664423),
        (-118.545972017, 6.8, -86.556664423),
    ]]
    fillet(fillet_2_edges, radius=FILLET_2_R)

    # 圆角3
    fillet_3_edges = [part.edges().sort_by_distance(p)[0] for p in [
        (-120.545972017, 5.3, -141.556664423),
        (-120.545972017, 5.3, -84.556664423),
        (-39.545972017, 5.3, -84.556664423),
        (-39.545972017, 5.3, -141.556664423),
    ]]
    fillet(fillet_3_edges, radius=FILLET_3_R)

    # 圆角4
    fillet_4_edges = [part.edges().sort_by_distance(p)[0] for p in [
        (-80.045972017, 0, -84.556664423),
        (-80.045972017, 0, -141.556664423),
        (-39.545972017, 0, -113.056664423),
        (-120.545972017, 0, -113.056664423),
        (-119.081505923, 0, -140.092198329),
        (-41.010438111, 0, -140.092198329),
        (-41.010438111, 0, -86.021130517),
        (-119.081505923, 0, -86.021130517),
    ]]
    fillet(fillet_4_edges, radius=FILLET_4_R)

    # 草图10 → 切除-拉伸5 (cut)
    with BuildSketch(Plane.XZ):
        Polygon((-48.045972017, -89.556664423), (-49.295972017, -87.391600913), (-51.795972017, -87.391600913), (-53.045972017, -89.556664423), (-51.795972017, -91.721727932), (-49.295972017, -91.721727932), align=None)
        Polygon((-113.045972017, -89.556664423), (-114.295972017, -87.391600913), (-116.795972017, -87.391600913), (-118.045972017, -89.556664423), (-116.795972017, -91.721727932), (-114.295972017, -91.721727932), align=None)
        Polygon((-113.045972017, -136.556664423), (-114.295972017, -134.391600913), (-116.795972017, -134.391600913), (-118.045972017, -136.556664423), (-116.795972017, -138.721727932), (-114.295972017, -138.721727932), align=None)
        Polygon((-48.045972017, -136.556664423), (-49.295972017, -134.391600913), (-51.795972017, -134.391600913), (-53.045972017, -136.556664423), (-51.795972017, -138.721727932), (-49.295972017, -138.721727932), align=None)
    extrude(amount=-CUT_EXTRUDE_5_DEPTH, mode=Mode.SUBTRACT)

    # 草图11 → 切除-拉伸6 (cut)
    with BuildSketch(Plane(origin=(0, 10.6, 0), x_dir=(1, 0, 0), z_dir=(0, 1, 0))):
        with BuildLine():
            Line((-41.261655488, 87.273406895), (-42.082349142, 87.844775895))
            ThreePointArc((-42.082349142, 87.844775895), (-43.155947841, 86.898124825), (-44.545972017, 86.556664423))
            Line((-44.545972017, 86.556664423), (-61.045972017, 86.556664423))
            Line((-61.045972017, 86.556664423), (-61.045972017, 85.556664423))
            Line((-61.045972017, 85.556664423), (-44.545972017, 85.556664423))
            ThreePointArc((-44.545972017, 85.556664423), (-42.693005491, 86.011736348), (-41.261655488, 87.273406895))
        make_face()
        with BuildLine():
            ThreePointArc((-40.545972017, 136.556664423), (-41.168680103, 138.700002783), (-42.842921681, 140.17600408))
            Line((-42.842921681, 140.17600408), (-43.850059004, 139.474832526))
            ThreePointArc((-43.850059004, 139.474832526), (-42.1914297, 138.415731522), (-41.545972017, 136.556664423))
            Line((-41.545972017, 136.556664423), (-41.545972017, 89.556664423))
            ThreePointArc((-41.545972017, 89.556664423), (-41.683205119, 88.659688566), (-42.082349142, 87.844775895))
            Line((-42.082349142, 87.844775895), (-41.261655488, 87.273406895))
            ThreePointArc((-41.261655488, 87.273406895), (-40.729084141, 88.360266938), (-40.545972017, 89.556664423))
            Line((-40.545972017, 89.556664423), (-40.545972017, 136.556664423))
        make_face()
        with BuildLine():
            Line((-44.545972017, 140.556664423), (-115.545972017, 140.556664423))
            ThreePointArc((-115.545972017, 140.556664423), (-116.418508942, 140.460339526), (-117.249022353, 140.17600408))
            Line((-117.249022353, 140.17600408), (-116.24188503, 139.474832526))
            ThreePointArc((-116.24188503, 139.474832526), (-115.896325903, 139.536136214), (-115.545972017, 139.556664423))
            Line((-115.545972017, 139.556664423), (-44.545972017, 139.556664423))
            ThreePointArc((-44.545972017, 139.556664423), (-44.195618131, 139.536136214), (-43.850059004, 139.474832526))
            Line((-43.850059004, 139.474832526), (-42.842921681, 140.17600408))
            ThreePointArc((-42.842921681, 140.17600408), (-43.673435092, 140.460339526), (-44.545972017, 140.556664423))
        make_face()
        with BuildLine():
            Line((-116.24188503, 139.474832526), (-117.249022353, 140.17600408))
            ThreePointArc((-117.249022353, 140.17600408), (-118.923263931, 138.700002783), (-119.545972017, 136.556664423))
            Line((-119.545972017, 136.556664423), (-119.545972017, 89.556664423))
            ThreePointArc((-119.545972017, 89.556664423), (-119.362859893, 88.360266938), (-118.830288546, 87.273406895))
            Line((-118.830288546, 87.273406895), (-118.009594892, 87.844775895))
            ThreePointArc((-118.009594892, 87.844775895), (-118.408738915, 88.659688566), (-118.545972017, 89.556664423))
            Line((-118.545972017, 89.556664423), (-118.545972017, 136.556664423))
            ThreePointArc((-118.545972017, 136.556664423), (-117.900514333, 138.415731522), (-116.24188503, 139.474832526))
        make_face()
        with BuildLine():
            ThreePointArc((-115.545972017, 86.556664423), (-116.935996192, 86.898124825), (-118.009594892, 87.844775895))
            Line((-118.009594892, 87.844775895), (-118.830288546, 87.273406895))
            ThreePointArc((-118.830288546, 87.273406895), (-117.398938542, 86.011736348), (-115.545972017, 85.556664423))
            Line((-115.545972017, 85.556664423), (-105.045972017, 85.556664423))
            Line((-105.045972017, 85.556664423), (-105.045972017, 86.556664423))
            Line((-105.045972017, 86.556664423), (-115.545972017, 86.556664423))
        make_face()
        with Locations((-83.045972017, 86.056664423)):
            Rectangle(SKETCH_11_W, SKETCH_11_H)
    extrude(amount=-CUT_EXTRUDE_6_DEPTH, mode=Mode.SUBTRACT)


solid = part.part
